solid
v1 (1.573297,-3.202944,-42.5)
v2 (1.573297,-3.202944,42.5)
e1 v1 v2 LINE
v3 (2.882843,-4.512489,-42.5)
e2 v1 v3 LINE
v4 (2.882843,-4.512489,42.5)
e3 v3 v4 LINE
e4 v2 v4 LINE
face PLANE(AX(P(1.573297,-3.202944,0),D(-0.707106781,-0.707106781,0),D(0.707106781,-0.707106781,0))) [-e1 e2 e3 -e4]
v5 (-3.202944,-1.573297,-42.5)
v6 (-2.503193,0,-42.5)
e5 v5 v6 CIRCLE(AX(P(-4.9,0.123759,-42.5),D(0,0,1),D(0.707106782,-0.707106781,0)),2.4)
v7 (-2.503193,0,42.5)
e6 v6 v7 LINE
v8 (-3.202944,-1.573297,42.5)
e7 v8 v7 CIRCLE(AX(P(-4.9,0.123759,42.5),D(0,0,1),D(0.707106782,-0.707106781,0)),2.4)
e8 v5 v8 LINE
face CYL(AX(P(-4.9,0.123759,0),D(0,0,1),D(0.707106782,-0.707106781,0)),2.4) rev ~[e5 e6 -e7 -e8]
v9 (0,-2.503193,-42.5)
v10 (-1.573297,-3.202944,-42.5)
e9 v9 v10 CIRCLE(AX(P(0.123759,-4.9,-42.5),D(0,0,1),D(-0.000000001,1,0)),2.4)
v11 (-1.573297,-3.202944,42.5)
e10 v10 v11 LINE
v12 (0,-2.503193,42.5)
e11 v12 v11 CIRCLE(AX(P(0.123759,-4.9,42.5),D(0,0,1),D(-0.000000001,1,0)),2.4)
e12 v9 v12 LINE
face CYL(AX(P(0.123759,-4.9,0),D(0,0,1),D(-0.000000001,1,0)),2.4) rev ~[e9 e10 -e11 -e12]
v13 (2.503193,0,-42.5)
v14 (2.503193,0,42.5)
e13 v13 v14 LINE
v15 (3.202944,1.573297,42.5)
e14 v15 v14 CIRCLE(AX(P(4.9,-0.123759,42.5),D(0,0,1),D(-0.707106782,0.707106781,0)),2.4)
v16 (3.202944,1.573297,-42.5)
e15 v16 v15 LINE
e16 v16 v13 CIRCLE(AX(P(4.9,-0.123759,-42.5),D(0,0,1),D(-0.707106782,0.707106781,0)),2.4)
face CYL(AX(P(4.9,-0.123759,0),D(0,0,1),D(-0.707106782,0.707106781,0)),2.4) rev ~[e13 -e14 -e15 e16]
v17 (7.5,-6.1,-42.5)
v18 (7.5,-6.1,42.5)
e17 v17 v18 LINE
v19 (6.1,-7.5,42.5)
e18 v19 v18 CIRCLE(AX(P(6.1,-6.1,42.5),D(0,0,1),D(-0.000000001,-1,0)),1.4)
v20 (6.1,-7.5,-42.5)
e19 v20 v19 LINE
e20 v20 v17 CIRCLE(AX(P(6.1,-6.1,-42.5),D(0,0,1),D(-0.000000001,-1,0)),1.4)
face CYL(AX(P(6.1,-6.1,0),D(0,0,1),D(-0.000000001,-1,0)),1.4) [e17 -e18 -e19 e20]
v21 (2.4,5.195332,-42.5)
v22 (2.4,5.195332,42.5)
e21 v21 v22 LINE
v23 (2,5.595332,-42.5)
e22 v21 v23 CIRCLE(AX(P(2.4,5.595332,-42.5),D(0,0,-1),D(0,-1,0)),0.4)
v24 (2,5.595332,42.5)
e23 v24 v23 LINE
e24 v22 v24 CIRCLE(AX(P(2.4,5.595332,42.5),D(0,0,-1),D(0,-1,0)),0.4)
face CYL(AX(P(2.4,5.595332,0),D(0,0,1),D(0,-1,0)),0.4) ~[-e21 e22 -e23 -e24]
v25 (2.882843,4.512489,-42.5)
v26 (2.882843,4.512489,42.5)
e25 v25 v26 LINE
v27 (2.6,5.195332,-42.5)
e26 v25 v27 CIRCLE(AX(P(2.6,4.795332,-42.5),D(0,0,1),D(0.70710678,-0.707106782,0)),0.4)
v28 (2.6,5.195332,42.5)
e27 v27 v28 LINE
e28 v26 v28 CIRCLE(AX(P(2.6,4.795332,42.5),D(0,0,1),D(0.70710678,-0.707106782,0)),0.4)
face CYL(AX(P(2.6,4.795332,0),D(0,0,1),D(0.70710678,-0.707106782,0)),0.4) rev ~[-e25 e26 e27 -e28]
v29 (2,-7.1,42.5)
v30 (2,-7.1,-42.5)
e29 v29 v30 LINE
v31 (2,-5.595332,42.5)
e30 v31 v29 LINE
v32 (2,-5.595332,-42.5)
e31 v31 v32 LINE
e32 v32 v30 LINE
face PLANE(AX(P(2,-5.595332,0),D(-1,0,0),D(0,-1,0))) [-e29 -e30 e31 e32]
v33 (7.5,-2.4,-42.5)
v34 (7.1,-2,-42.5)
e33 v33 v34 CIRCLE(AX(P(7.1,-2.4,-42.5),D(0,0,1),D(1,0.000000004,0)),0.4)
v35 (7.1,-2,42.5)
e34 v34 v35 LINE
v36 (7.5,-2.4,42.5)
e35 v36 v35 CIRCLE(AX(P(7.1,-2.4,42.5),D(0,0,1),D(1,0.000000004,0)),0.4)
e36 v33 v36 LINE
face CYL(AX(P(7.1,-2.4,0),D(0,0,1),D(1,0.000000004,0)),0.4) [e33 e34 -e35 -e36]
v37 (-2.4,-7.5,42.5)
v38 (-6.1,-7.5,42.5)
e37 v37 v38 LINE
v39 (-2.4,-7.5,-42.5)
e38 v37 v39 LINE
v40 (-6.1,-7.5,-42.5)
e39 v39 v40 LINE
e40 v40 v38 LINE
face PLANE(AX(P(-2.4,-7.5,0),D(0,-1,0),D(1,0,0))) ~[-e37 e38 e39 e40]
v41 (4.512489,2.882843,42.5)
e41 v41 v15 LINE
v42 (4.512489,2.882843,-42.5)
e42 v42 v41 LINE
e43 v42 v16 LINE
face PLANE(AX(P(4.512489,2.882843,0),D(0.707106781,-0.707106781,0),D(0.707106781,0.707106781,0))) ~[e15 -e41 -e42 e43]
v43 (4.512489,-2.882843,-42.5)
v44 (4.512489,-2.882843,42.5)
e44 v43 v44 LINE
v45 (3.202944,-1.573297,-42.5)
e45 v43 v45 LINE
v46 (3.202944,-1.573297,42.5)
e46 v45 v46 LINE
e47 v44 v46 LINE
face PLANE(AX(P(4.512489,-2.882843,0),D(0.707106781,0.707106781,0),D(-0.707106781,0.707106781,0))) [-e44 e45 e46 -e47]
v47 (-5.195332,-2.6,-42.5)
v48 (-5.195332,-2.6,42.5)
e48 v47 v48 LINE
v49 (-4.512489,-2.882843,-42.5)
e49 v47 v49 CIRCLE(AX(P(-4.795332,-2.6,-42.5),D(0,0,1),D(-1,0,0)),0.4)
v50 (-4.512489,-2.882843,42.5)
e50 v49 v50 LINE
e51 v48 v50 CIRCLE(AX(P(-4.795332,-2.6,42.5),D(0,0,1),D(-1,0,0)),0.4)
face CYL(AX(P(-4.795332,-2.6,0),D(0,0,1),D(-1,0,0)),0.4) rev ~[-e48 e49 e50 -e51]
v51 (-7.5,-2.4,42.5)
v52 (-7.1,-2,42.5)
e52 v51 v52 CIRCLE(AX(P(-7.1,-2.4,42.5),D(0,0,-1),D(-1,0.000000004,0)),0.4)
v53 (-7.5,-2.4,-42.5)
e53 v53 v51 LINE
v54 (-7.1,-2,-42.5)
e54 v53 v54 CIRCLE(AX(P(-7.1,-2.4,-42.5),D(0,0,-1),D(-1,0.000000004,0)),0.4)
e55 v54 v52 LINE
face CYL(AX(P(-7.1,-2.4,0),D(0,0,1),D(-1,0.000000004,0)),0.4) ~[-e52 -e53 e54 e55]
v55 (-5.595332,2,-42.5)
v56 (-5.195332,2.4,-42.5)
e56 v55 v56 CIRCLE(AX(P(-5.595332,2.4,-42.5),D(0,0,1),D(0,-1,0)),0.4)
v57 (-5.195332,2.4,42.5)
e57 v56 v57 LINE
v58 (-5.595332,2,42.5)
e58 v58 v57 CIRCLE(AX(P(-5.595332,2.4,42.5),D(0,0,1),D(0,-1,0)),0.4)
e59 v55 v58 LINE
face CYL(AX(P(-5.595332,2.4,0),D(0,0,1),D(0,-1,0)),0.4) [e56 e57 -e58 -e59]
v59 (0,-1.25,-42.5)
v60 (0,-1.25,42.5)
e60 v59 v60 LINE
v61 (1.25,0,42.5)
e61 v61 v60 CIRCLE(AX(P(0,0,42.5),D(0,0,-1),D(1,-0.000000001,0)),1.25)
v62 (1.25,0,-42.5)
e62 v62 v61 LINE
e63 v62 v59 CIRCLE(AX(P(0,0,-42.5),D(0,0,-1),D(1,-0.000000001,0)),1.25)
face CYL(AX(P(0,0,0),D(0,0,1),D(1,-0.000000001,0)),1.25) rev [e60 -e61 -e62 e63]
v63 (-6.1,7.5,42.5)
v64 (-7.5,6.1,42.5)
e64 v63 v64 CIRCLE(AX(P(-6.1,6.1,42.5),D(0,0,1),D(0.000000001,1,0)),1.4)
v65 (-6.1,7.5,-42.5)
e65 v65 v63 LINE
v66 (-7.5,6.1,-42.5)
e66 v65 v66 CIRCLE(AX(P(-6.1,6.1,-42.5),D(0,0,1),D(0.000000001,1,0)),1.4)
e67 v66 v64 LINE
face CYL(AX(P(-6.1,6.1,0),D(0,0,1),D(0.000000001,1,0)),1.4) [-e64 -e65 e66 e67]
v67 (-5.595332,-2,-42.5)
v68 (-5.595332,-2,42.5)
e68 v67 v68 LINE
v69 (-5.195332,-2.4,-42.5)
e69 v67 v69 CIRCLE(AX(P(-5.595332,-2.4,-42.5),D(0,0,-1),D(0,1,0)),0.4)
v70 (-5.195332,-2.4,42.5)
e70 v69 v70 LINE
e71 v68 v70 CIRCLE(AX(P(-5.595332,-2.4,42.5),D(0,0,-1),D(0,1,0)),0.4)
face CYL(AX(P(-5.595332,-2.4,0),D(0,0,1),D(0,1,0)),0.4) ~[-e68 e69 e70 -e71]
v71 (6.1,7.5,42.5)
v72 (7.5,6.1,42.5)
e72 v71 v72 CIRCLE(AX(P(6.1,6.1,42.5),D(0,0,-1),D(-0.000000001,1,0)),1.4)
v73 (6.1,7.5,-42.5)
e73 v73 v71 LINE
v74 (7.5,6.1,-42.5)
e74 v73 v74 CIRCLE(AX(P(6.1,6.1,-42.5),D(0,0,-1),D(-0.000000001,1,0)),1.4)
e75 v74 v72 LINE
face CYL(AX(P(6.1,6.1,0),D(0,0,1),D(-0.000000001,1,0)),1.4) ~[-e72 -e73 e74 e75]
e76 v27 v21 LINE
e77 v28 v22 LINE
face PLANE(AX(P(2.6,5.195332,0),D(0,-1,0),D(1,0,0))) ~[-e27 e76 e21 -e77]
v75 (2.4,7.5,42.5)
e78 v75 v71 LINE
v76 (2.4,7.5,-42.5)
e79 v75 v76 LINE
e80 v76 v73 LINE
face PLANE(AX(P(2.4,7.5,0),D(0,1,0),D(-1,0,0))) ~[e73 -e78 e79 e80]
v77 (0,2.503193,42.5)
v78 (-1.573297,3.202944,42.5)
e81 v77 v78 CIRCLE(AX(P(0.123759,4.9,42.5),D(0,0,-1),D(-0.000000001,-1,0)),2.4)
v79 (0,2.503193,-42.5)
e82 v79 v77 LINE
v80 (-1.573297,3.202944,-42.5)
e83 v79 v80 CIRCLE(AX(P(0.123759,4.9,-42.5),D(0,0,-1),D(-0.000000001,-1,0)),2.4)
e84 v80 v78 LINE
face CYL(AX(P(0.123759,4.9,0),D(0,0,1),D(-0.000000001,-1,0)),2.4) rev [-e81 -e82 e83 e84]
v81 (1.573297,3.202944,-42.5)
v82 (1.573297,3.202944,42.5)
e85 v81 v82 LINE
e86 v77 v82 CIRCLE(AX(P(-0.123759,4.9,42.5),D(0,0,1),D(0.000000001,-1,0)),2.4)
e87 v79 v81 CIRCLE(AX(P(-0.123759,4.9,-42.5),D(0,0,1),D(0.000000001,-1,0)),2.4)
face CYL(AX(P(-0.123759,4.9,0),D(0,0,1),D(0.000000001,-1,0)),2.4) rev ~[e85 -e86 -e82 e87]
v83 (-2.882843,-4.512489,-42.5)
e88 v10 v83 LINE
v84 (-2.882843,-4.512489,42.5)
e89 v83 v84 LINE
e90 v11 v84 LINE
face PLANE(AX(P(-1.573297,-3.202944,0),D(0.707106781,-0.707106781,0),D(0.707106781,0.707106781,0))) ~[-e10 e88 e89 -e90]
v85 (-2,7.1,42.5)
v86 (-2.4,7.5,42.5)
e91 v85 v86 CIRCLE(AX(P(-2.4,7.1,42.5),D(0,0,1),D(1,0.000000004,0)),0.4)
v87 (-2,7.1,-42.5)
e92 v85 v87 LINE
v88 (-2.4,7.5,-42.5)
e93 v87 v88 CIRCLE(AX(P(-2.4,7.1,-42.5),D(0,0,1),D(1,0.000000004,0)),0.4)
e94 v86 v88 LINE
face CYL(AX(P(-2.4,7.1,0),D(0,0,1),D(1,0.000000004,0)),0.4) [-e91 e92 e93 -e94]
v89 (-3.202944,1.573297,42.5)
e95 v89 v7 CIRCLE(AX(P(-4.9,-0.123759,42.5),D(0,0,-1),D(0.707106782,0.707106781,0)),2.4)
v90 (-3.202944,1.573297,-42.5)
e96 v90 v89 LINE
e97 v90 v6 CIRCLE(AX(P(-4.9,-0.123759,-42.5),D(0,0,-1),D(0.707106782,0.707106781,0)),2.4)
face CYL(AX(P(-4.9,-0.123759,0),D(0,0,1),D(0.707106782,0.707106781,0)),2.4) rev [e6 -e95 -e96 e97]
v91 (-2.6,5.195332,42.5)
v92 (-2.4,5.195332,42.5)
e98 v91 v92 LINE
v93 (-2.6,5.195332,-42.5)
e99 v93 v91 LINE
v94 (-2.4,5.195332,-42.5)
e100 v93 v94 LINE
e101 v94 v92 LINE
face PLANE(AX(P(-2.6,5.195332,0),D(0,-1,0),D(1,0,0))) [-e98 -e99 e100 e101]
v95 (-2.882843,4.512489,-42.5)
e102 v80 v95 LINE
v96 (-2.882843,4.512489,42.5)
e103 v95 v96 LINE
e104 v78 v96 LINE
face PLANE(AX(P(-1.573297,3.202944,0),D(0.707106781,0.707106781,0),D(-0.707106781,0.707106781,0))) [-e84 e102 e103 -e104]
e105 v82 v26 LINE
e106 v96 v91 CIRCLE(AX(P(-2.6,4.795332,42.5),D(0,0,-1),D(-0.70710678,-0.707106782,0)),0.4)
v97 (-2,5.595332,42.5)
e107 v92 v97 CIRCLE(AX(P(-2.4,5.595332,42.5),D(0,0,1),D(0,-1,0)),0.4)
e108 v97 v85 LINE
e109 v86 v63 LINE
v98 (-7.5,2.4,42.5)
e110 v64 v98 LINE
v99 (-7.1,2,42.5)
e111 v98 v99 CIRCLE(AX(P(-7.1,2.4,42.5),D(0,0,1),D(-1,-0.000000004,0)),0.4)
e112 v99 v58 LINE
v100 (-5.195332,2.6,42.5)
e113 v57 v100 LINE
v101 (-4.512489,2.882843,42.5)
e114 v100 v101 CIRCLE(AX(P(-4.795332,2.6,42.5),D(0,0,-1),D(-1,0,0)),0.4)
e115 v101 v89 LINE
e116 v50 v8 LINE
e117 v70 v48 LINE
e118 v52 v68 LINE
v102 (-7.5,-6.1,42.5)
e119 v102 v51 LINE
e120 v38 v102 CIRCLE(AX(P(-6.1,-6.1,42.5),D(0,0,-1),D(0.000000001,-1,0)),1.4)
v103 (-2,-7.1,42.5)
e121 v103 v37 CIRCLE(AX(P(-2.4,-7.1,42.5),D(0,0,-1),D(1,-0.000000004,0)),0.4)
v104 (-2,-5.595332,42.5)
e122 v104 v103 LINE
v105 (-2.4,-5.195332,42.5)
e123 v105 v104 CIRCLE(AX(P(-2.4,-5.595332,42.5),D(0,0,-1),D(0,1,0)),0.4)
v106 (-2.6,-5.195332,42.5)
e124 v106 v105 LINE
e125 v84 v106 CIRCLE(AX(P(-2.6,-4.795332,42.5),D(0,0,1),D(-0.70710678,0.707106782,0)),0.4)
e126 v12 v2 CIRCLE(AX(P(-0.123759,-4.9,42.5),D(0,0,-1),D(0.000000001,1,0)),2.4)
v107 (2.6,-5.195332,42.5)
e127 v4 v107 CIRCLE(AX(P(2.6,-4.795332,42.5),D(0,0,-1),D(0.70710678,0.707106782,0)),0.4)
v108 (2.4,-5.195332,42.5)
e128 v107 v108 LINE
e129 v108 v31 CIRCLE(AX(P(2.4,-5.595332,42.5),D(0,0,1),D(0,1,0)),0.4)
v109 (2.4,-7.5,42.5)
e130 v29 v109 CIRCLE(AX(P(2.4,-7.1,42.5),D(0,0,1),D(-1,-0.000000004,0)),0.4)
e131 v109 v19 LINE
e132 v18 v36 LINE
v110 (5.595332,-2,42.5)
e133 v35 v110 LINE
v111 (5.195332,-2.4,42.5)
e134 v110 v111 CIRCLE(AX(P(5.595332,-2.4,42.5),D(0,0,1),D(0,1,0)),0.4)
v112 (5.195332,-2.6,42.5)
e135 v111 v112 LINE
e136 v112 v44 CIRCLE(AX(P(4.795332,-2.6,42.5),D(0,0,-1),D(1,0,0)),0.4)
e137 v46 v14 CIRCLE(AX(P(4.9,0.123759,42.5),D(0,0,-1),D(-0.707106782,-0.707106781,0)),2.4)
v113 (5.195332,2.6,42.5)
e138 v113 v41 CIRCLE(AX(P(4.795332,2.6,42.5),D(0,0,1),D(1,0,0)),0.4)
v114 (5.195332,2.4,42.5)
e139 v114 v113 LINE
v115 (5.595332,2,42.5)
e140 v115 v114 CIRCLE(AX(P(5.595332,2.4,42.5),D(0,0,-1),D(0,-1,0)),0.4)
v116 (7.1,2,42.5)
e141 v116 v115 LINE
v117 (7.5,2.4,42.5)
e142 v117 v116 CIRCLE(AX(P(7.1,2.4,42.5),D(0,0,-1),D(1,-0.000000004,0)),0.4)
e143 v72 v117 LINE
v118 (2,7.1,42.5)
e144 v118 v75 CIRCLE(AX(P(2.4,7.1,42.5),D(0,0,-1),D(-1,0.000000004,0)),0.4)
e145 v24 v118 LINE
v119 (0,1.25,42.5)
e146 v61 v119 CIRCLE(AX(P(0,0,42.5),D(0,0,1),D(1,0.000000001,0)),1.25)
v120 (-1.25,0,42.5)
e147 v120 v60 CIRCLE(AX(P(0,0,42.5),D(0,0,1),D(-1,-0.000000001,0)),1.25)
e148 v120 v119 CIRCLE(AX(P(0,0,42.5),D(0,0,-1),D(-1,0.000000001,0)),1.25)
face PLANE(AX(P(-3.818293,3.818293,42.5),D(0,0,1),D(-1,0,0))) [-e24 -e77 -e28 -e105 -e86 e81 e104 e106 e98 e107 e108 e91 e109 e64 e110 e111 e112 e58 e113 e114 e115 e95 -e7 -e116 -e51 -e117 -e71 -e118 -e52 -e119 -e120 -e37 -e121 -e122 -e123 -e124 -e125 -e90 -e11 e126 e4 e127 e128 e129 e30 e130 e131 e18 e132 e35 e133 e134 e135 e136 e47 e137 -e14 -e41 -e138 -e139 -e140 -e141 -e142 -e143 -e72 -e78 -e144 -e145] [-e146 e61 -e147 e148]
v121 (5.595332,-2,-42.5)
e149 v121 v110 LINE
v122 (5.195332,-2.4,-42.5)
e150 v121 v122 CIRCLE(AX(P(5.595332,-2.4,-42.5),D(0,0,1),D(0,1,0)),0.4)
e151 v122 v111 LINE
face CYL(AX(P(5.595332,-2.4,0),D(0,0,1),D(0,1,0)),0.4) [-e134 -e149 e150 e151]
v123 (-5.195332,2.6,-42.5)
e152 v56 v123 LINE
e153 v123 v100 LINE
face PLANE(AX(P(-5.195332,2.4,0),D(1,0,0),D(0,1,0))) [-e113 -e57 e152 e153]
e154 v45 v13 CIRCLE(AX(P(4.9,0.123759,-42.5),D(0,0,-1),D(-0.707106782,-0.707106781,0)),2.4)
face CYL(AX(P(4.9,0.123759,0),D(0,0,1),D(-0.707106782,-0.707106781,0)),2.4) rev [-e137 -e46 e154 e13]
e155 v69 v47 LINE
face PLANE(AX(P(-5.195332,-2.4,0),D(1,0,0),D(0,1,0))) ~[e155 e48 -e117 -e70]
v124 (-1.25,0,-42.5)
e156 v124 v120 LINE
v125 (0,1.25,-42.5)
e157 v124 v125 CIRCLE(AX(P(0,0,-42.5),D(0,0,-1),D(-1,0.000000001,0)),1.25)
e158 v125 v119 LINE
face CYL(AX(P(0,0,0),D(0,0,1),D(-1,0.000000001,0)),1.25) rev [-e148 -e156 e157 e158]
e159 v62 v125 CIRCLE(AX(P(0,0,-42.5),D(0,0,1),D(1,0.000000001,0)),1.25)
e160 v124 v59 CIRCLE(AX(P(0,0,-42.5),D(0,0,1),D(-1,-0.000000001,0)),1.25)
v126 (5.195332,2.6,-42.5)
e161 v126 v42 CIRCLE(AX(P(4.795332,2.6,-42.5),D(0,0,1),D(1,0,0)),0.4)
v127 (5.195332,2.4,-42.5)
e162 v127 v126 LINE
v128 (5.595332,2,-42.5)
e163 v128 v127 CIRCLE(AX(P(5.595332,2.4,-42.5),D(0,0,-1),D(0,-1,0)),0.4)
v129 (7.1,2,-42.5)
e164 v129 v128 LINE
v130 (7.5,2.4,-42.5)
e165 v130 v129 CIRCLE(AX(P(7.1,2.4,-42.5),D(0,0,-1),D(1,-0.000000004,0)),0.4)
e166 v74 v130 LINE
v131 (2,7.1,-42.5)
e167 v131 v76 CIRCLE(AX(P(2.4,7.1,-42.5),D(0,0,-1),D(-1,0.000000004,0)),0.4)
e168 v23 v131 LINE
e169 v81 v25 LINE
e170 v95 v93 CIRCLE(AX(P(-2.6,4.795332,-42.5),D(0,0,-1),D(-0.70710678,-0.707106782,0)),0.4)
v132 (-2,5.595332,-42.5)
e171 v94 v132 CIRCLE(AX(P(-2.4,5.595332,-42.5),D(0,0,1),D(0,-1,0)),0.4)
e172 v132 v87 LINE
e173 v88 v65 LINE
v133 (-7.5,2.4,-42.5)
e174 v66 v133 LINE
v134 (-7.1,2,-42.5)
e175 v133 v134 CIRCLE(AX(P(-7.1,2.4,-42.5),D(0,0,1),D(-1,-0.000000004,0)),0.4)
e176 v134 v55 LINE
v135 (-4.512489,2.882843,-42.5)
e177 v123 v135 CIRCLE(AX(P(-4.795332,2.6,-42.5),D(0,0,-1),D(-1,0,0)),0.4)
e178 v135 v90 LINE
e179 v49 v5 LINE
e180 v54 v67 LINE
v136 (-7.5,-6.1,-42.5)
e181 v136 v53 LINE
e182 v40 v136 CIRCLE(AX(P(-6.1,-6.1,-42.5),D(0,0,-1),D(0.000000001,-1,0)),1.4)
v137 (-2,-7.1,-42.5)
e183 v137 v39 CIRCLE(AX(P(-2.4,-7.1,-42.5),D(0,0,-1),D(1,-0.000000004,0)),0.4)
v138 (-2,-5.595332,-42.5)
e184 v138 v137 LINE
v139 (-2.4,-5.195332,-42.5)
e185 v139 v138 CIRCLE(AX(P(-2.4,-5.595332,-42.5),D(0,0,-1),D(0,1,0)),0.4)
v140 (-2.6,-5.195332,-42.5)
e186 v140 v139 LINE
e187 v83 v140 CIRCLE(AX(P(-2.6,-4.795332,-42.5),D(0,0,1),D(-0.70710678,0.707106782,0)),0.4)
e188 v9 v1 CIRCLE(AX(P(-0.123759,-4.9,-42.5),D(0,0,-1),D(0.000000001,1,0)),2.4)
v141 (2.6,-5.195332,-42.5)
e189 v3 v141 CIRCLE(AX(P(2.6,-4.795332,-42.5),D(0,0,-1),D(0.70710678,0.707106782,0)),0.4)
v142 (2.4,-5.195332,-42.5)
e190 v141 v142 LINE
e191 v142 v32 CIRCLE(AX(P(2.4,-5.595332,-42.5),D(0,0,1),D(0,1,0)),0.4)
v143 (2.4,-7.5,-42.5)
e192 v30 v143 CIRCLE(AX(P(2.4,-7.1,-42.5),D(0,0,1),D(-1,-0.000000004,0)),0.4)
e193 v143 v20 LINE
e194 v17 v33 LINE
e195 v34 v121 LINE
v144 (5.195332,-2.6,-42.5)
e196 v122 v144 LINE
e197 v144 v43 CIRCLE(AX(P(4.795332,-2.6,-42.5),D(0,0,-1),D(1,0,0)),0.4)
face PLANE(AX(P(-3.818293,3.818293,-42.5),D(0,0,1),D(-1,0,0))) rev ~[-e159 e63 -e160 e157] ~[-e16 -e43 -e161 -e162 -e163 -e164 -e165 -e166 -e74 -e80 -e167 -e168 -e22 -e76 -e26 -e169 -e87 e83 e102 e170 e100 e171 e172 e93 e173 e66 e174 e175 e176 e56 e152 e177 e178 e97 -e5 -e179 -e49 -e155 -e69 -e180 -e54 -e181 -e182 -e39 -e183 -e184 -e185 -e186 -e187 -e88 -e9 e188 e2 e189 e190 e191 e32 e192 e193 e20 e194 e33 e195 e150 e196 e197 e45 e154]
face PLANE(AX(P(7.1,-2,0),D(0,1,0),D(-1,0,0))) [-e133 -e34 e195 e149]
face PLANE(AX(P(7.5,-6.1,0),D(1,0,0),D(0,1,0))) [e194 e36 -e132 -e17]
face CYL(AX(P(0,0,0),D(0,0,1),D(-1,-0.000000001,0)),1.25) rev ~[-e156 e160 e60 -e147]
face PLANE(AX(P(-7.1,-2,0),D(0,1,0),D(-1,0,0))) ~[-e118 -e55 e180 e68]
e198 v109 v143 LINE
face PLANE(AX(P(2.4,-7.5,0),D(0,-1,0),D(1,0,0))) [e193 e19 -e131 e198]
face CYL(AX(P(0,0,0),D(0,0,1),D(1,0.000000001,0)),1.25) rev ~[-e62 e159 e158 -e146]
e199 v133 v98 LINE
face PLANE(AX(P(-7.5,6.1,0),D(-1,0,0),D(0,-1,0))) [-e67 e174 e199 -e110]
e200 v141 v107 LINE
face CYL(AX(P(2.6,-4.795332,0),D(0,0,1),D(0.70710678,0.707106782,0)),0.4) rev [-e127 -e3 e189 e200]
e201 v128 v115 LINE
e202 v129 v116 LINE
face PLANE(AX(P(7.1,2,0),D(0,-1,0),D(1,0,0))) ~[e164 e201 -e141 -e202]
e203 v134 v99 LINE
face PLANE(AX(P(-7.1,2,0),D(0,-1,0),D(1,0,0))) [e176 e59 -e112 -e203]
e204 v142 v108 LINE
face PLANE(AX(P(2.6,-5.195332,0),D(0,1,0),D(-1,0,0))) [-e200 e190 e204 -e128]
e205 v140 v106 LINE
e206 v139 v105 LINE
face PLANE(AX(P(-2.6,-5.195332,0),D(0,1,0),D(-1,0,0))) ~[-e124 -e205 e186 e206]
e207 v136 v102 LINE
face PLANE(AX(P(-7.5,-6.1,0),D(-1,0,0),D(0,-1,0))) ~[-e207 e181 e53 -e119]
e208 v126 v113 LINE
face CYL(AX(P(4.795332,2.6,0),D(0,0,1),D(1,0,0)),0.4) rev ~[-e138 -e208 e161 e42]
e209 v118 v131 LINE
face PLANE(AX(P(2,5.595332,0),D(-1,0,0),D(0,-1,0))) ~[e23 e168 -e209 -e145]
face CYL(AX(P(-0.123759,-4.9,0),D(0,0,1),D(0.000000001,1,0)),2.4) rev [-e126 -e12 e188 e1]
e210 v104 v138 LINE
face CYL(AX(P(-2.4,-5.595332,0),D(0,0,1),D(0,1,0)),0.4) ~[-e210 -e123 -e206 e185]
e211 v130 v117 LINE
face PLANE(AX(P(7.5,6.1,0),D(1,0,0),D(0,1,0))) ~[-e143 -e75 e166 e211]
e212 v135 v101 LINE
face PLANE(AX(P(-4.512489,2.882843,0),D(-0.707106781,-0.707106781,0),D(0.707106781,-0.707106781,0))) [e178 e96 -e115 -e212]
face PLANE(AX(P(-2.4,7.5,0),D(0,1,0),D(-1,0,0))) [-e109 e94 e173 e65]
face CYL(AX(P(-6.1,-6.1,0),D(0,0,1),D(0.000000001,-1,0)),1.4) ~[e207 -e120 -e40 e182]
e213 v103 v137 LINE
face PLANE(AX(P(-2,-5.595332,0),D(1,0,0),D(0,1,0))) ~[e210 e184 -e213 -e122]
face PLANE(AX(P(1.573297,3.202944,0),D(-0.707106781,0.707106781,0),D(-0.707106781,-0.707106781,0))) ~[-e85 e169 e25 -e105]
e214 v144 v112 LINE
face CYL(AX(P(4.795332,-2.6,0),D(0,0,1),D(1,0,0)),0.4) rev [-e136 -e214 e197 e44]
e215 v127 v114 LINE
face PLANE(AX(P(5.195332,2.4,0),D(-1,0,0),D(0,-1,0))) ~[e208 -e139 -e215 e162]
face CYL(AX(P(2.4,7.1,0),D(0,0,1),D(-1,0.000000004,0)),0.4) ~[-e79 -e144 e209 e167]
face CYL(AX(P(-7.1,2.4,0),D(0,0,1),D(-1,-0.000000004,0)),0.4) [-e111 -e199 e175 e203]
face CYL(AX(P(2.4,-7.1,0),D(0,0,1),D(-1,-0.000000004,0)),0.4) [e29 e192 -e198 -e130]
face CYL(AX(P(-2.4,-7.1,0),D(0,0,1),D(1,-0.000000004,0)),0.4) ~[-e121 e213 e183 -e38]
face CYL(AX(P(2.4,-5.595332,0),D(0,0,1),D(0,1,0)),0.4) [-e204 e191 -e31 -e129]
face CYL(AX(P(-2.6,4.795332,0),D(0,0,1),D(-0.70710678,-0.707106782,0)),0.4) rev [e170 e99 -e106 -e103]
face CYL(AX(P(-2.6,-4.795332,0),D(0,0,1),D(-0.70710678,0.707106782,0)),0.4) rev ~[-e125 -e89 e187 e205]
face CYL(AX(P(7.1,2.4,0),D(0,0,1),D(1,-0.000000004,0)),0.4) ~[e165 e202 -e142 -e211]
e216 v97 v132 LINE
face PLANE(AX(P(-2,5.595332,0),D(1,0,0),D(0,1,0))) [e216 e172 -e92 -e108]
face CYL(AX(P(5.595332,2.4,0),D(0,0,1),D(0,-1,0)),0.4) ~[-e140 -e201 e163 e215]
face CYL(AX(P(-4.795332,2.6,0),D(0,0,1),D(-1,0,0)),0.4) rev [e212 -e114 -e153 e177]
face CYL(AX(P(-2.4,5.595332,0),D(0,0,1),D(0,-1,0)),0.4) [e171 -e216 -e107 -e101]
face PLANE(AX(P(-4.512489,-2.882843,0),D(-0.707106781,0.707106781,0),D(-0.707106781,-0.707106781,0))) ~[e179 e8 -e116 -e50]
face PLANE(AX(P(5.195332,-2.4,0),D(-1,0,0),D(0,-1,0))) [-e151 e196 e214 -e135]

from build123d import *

# Parameters (mm, degrees)
BOSS_EXTRUDE1_DEPTH = 42.5


with BuildPart() as part:
    # Sketch4 → Boss-Extrude1 (new body, symmetric)
    with BuildSketch(Plane.XY):
        with BuildLine():
            Line((2.4, -7.5), (6.1, -7.5))
            ThreePointArc((6.1, -7.5), (7.089949494, -7.089949494), (7.5, -6.1))
            Line((7.5, -6.1), (7.5, -2.4))
            ThreePointArc((7.5, -2.4), (7.382842712, -2.117157288), (7.1, -2))
            Line((7.1, -2), (5.595331881, -2))
            ThreePointArc((5.595331881, -2), (5.312489168, -2.117157288), (5.195331881, -2.4))
            Line((5.195331881, -2.4), (5.195331881, -2.6))
            ThreePointArc((5.195331881, -2.6), (4.948405254, -2.969551813), (4.512489168, -2.882842712))
            Line((4.512489168, -2.882842712), (3.202943725, -1.57329727))
            ThreePointArc((3.202943725, -1.57329727), (2.682689122, -0.794681232), (2.5, 0.123759005))
            Line((2.5, 0.123759005), (2.5, 0))
            Line((2.5, 0), (1.25, 0))
            ThreePointArc((1.25, 0), (0.883883476, -0.883883476), (0, -1.25))
            Line((0, -1.25), (0, -2.5))
            Line((0, -2.5), (-0.123759005, -2.5))
            ThreePointArc((-0.123759005, -2.5), (0.794681232, -2.682689122), (1.57329727, -3.202943725))
            Line((1.57329727, -3.202943725), (2.882842712, -4.512489168))
            ThreePointArc((2.882842712, -4.512489168), (2.969551813, -4.948405254), (2.6, -5.195331881))
            Line((2.6, -5.195331881), (2.4, -5.195331881))
            ThreePointArc((2.4, -5.195331881), (2.117157288, -5.312489168), (2, -5.595331881))
            Line((2, -5.595331881), (2, -7.1))
            ThreePointArc((2, -7.1), (2.117157288, -7.382842712), (2.4, -7.5))
        make_face()
    extrude(amount=BOSS_EXTRUDE1_DEPTH, both=True)

    # Mirror1: part across plane


with BuildPart() as part_1:
    add(part.part)
    add(part.part.mirror(Plane(origin=(0, 0, 0), x_dir=(0, 0, 1), z_dir=(1, 0, 0))))

    # Mirror2: part across plane


with BuildPart() as part_2:
    add(part_1.part)
    add(part_1.part.mirror(Plane.ZX))


solid = part_2.part
